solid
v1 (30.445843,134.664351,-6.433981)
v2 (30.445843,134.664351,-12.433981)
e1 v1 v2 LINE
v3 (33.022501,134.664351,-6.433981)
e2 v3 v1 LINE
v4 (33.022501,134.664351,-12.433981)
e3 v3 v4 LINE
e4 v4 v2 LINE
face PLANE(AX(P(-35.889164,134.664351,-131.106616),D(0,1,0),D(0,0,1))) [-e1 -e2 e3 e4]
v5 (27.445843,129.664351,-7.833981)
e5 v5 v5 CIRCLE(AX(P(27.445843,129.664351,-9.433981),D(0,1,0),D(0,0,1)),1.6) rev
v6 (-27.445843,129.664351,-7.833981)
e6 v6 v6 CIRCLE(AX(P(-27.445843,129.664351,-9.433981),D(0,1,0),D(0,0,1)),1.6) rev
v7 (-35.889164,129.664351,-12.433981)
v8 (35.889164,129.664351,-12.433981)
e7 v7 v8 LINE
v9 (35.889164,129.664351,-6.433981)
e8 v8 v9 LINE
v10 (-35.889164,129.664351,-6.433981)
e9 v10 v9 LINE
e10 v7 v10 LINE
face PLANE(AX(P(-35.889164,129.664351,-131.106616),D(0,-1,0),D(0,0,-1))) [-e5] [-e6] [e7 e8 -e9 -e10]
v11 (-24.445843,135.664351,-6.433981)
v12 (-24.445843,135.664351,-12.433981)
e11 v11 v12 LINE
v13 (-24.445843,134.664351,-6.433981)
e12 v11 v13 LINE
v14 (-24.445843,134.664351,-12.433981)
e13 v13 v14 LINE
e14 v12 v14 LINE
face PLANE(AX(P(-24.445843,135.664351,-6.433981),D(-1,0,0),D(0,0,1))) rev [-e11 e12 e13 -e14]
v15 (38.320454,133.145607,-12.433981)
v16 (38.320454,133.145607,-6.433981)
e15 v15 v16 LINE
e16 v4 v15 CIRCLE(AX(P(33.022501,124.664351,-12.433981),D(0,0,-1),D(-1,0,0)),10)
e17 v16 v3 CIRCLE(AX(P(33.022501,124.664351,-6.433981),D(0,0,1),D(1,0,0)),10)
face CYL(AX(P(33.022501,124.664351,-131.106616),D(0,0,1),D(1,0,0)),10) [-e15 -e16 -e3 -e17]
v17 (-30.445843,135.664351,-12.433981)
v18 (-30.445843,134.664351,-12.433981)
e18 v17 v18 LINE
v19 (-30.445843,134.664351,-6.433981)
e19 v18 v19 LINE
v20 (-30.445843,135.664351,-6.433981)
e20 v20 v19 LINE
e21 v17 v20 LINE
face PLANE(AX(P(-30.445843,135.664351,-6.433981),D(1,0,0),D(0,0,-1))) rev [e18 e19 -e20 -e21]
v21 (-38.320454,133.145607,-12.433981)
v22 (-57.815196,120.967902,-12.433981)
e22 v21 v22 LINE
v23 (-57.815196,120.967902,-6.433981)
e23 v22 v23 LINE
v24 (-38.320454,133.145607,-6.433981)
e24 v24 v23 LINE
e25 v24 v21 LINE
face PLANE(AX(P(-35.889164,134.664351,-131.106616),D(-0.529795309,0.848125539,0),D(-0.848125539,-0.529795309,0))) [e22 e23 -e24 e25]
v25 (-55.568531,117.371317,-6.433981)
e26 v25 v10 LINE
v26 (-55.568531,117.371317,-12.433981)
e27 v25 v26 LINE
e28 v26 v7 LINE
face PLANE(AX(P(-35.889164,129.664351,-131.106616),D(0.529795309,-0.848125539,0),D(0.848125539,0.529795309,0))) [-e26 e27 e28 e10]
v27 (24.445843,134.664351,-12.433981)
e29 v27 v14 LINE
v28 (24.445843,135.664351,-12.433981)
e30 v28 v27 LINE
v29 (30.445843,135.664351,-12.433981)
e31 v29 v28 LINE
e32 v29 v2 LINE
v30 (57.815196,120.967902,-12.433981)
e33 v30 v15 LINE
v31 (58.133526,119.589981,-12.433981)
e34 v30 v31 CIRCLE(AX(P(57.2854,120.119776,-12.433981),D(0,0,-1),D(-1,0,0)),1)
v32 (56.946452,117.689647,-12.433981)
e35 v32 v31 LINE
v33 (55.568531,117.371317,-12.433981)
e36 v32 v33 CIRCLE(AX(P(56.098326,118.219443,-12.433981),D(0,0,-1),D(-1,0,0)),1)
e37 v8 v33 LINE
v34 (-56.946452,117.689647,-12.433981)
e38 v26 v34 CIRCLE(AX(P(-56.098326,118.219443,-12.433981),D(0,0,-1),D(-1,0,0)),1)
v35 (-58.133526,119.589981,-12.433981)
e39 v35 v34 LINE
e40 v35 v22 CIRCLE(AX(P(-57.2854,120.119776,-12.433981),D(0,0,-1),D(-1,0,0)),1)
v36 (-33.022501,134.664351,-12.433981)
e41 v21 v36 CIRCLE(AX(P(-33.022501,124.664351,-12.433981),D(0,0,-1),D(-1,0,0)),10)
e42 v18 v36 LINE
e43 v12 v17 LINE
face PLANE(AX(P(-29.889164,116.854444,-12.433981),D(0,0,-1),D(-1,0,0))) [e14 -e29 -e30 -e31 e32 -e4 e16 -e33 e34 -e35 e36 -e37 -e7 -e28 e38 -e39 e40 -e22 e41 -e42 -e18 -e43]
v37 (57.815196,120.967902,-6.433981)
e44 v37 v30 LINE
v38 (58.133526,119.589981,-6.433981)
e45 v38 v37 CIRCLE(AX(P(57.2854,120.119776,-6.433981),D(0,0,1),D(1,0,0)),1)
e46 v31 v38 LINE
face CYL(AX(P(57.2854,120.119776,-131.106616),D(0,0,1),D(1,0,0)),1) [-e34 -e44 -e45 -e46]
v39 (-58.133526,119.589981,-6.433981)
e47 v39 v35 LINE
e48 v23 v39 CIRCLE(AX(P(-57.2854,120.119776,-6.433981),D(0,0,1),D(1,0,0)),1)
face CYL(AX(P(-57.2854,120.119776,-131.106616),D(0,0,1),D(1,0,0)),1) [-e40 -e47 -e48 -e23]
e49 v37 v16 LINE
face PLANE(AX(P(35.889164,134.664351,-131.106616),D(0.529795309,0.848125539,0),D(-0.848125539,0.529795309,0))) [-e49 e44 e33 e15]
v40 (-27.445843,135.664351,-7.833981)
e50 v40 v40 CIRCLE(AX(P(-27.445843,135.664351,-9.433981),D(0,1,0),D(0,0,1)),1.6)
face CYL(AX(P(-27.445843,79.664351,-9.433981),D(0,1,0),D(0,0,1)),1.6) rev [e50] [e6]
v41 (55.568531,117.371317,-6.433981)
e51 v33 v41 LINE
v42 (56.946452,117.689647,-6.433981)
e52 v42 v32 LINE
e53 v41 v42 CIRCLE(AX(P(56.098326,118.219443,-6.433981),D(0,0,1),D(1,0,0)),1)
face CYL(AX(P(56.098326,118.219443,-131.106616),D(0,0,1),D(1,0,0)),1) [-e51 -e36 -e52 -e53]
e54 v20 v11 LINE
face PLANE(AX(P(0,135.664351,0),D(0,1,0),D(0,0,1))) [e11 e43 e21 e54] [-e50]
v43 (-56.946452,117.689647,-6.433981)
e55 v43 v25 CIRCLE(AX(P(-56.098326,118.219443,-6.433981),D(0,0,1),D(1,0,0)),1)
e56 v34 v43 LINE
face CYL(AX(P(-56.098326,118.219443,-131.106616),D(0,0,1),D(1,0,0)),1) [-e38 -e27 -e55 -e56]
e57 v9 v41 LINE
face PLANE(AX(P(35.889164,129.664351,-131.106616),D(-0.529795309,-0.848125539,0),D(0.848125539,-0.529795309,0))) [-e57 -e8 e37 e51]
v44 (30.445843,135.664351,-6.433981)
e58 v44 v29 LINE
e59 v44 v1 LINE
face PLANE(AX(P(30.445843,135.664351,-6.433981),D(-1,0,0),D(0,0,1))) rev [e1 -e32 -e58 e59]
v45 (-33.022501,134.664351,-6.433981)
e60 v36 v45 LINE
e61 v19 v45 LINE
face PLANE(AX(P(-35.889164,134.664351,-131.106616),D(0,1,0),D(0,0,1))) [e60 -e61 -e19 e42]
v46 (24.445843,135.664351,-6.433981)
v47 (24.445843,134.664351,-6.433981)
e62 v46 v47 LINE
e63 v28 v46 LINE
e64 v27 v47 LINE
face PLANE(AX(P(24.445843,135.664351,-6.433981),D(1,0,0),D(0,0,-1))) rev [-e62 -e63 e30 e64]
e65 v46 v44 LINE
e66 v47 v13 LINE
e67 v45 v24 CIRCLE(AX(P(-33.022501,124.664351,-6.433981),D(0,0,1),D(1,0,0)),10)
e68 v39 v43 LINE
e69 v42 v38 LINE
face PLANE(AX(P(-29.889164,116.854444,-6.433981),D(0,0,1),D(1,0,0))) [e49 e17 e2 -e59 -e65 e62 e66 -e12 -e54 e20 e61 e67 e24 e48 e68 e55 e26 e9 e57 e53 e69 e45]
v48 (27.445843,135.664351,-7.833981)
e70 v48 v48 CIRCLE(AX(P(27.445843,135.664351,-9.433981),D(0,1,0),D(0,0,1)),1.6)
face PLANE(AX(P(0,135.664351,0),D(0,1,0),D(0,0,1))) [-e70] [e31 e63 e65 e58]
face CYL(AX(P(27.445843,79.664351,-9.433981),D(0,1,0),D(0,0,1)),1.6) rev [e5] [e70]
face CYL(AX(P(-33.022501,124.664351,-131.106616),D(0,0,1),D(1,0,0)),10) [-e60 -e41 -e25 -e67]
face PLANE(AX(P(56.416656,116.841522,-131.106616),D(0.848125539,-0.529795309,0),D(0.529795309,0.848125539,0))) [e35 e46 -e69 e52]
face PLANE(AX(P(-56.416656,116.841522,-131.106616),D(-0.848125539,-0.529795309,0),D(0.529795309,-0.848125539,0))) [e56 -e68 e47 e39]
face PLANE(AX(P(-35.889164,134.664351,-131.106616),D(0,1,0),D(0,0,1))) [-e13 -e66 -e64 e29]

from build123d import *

# Parameters (mm, degrees)
EXTRUDE_1_DEPTH      = 3
SKETCH_7_R           = 2.25
CUT_EXTRUDE_2_DEPTH  = 4.0000001
SKETCH_8_R           = 8
CUT_EXTRUDE_3_DEPTH  = 4.0000001
CUT_EXTRUDE_4_DEPTH  = 3
CUT_EXTRUDE_5_DEPTH  = 3
CUT_EXTRUDE_8_DEPTH  = 3
SKETCH_12_R          = 1.7
CUT_EXTRUDE_9_DEPTH  = 3
SKETCH_13_R          = 1.7
CUT_EXTRUDE_11_DEPTH = 3
CUT_EXTRUDE_12_DEPTH = 4.0000001
FILLET_1_R           = 2
FILLET_2_R           = 2
CUT_EXTRUDE_13_DEPTH = 4.0000001
CUT_EXTRUDE_14_DEPTH = 4.0000001
CUT_EXTRUDE_15_DEPTH = 4.0000001
CUT_EXTRUDE_16_DEPTH = 4.0000001
SKETCH_19_W          = 174.604309186
SKETCH_19_H          = 153.794857067
CUT_EXTRUDE_17_DEPTH = 10
SKETCH_20_R          = 1.7
SKETCH_20_R_2        = 2.929115441
EXTRUDE_2_DEPTH      = 5
SKETCH_21_W          = 71.778327268
SKETCH_21_H          = 4.999657954
EXTRUDE_3_DEPTH      = 5
EXTRUDE_4_DEPTH      = 5
FILLET_3_R           = 10
SKETCH_23_W          = 71.778327268
SKETCH_23_H          = 4.999657954
EXTRUDE_5_DEPTH      = 5
FILLET_4_R           = 1
SKETCH_24_W          = 6
SKETCH_24_H          = 4.999657954
EXTRUDE_7_DEPTH      = 55
EXTRUDE_8_DEPTH      = 4.999658
FILLET_5_R           = 8
FILLET_6_R           = 12
SKETCH_27_W          = 5
SKETCH_27_H          = 6
EXTRUDE_9_DEPTH      = 4.999658
FILLET_7_R           = 1
FILLET_8_R           = 1
FILLET_9_R           = 1
SKETCH_28_R          = 1.6
CUT_EXTRUDE_19_DEPTH = 50
EXTRUDE_10_DEPTH     = 6
SKETCH_33_R          = 1.6
CUT_EXTRUDE_21_DEPTH = 10.999657954
SKETCH_34_W          = 162.843072653
SKETCH_34_H          = 93.113374014
CUT_EXTRUDE_22_DEPTH = 10
SKETCH_35_W          = 6
SKETCH_35_H          = 6
SKETCH_35_R          = 1.6
EXTRUDE_11_DEPTH     = 1
CUT_EXTRUDE_23_DEPTH = 90
SKETCH_37_W          = 26
SKETCH_37_H          = 5
CUT_EXTRUDE_24_DEPTH = 90
FILLET_10_R          = 10
FILLET_11_R          = 1


with BuildPart() as part:
    # 草图1 → 凸台-拉伸1 (new body)
    with BuildSketch(Plane.XY):
        with BuildLine():
            Line((60, 106.603296002), (35.889163634, 121.664519159))
            Line((35.889163634, 121.664519159), (-35.889163634, 121.664519159))
            Line((-35.889163634, 121.664519159), (-60, 106.603296002))
            Line((-60, 106.603296002), (-60, 94.801892265))
            Line((-60, 94.801892265), (-45, 94.801892265))
            ThreePointArc((-45, 94.801892265), (-43.762563133, 94.289329132), (-43.25, 93.051892265))
            Line((-43.25, 93.051892265), (-37.75, 93.051892265))
            ThreePointArc((-37.75, 93.051892265), (-37.237436867, 94.289329132), (-36, 94.801892265))
            Line((-36, 94.801892265), (-21, 94.801892265))
            ThreePointArc((-21, 94.801892265), (-19.762563133, 94.289329132), (-19.25, 93.051892265))
            Line((-19.25, 93.051892265), (19.25, 93.051892265))
            ThreePointArc((19.25, 93.051892265), (19.762563133, 94.289329132), (21, 94.801892265))
            Line((21, 94.801892265), (36, 94.801892265))
            ThreePointArc((36, 94.801892265), (37.237436867, 94.289329132), (37.75, 93.051892265))
            Line((37.75, 93.051892265), (43.25, 93.051892265))
            ThreePointArc((43.25, 93.051892265), (43.762563133, 94.289329132), (45, 94.801892265))
            Line((45, 94.801892265), (60, 94.801892265))
            Line((60, 94.801892265), (60, 106.603296002))
        make_face()
        with BuildLine():
            Line((66.901694095, 102.292041372), (60, 106.603296002))
            Line((60, 106.603296002), (60, 94.801892265))
            ThreePointArc((60, 94.801892265), (61.237436867, 94.289329132), (61.75, 93.051892265))
            Line((61.75, 93.051892265), (66.901694095, 93.051892265))
            Line((66.901694095, 93.051892265), (66.901694095, 102.292041372))
        make_face()
        with BuildLine():
            Line((-60, 94.801892265), (-60, 106.603296002))
            Line((-60, 106.603296002), (-66.901694095, 102.292041372))
            Line((-66.901694095, 102.292041372), (-66.901694095, 93.051892265))
            Line((-66.901694095, 93.051892265), (-61.75, 93.051892265))
            ThreePointArc((-61.75, 93.051892265), (-61.237436867, 94.289329132), (-60, 94.801892265))
        make_face()
        with BuildLine():
            Line((66.901694095, 63.051892265), (66.901694095, 93.051892265))
            Line((66.901694095, 93.051892265), (61.75, 93.051892265))
            ThreePointArc((61.75, 93.051892265), (61.237436867, 91.814455398), (60, 91.301892265))
            Line((60, 91.301892265), (60, 64.801892265))
            ThreePointArc((60, 64.801892265), (61.237436867, 64.289329132), (61.75, 63.051892265))
            Line((61.75, 63.051892265), (66.901694095, 63.051892265))
        make_face()
        with BuildLine():
            Line((-61.75, 93.051892265), (-66.901694095, 93.051892265))
            Line((-66.901694095, 93.051892265), (-66.901694095, 63.051892265))
            Line((-66.901694095, 63.051892265), (-61.75, 63.051892265))
            ThreePointArc((-61.75, 63.051892265), (-61.237436867, 64.289329132), (-60, 64.801892265))
            Line((-60, 64.801892265), (-60, 91.301892265))
            ThreePointArc((-60, 91.301892265), (-61.237436867, 91.814455398), (-61.75, 93.051892265))
        make_face()
        with BuildLine():
            Line((66.901694095, 52.870133869), (66.901694095, 63.051892265))
            Line((66.901694095, 63.051892265), (61.75, 63.051892265))
            ThreePointArc((61.75, 63.051892265), (61.237436867, 61.814455398), (60, 61.301892265))
            Line((60, 61.301892265), (60, 31.261343001))
            Line((60, 31.261343001), (75, 31.261343001))
            Line((75, 31.261343001), (75, 40.933889795))
            ThreePointArc((75, 40.933889795), (69.117351927, 45.658052319), (66.901694095, 52.870133869))
        make_face()
        with BuildLine():
            Line((60, 64.801892265), (60, 91.301892265))
            Line((60, 91.301892265), (45, 91.301892265))
            ThreePointArc((45, 91.301892265), (43.762563133, 91.814455398), (43.25, 93.051892265))
            Line((43.25, 93.051892265), (37.75, 93.051892265))
            ThreePointArc((37.75, 93.051892265), (37.237436867, 91.814455398), (36, 91.301892265))
            Line((36, 91.301892265), (21, 91.301892265))
            ThreePointArc((21, 91.301892265), (19.762563133, 91.814455398), (19.25, 93.051892265))
            Line((19.25, 93.051892265), (-19.25, 93.051892265))
            ThreePointArc((-19.25, 93.051892265), (-19.762563133, 91.814455398), (-21, 91.301892265))
            Line((-21, 91.301892265), (-36, 91.301892265))
            ThreePointArc((-36, 91.301892265), (-37.237436867, 91.814455398), (-37.75, 93.051892265))
            Line((-37.75, 93.051892265), (-43.25, 93.051892265))
            ThreePointArc((-43.25, 93.051892265), (-43.762563133, 91.814455398), (-45, 91.301892265))
            Line((-45, 91.301892265), (-60, 91.301892265))
            Line((-60, 91.301892265), (-60, 64.801892265))
            Line((-60, 64.801892265), (-45, 64.801892265))
            ThreePointArc((-45, 64.801892265), (-43.762563133, 64.289329132), (-43.25, 63.051892265))
            Line((-43.25, 63.051892265), (-37.75, 63.051892265))
            ThreePointArc((-37.75, 63.051892265), (-37.237436867, 64.289329132), (-36, 64.801892265))
            Line((-36, 64.801892265), (-21, 64.801892265))
            ThreePointArc((-21, 64.801892265), (-19.762563133, 64.289329132), (-19.25, 63.051892265))
            Line((-19.25, 63.051892265), (19.25, 63.051892265))
            ThreePointArc((19.25, 63.051892265), (19.762563133, 64.289329132), (21, 64.801892265))
            Line((21, 64.801892265), (36, 64.801892265))
            ThreePointArc((36, 64.801892265), (37.237436867, 64.289329132), (37.75, 63.051892265))
            Line((37.75, 63.051892265), (43.25, 63.051892265))
            ThreePointArc((43.25, 63.051892265), (43.762563133, 64.289329132), (45, 64.801892265))
            Line((45, 64.801892265), (60, 64.801892265))
        make_face()
        with BuildLine():
            Line((-61.75, 63.051892265), (-66.901694095, 63.051892265))
            Line((-66.901694095, 63.051892265), (-66.901694095, 52.870133869))
            ThreePointArc((-66.901694095, 52.870133869), (-69.117351927, 45.658052319), (-75, 40.933889795))
            Line((-75, 40.933889795), (-75, 31.261343001))
            Line((-75, 31.261343001), (-60, 31.261343001))
            Line((-60, 31.261343001), (-60, 61.301892265))
            ThreePointArc((-60, 61.301892265), (-61.237436867, 61.814455398), (-61.75, 63.051892265))
        make_face()
        with BuildLine():
            Line((60, 31.261343001), (60, 61.301892265))
            Line((60, 61.301892265), (45, 61.301892265))
            ThreePointArc((45, 61.301892265), (43.762563133, 61.814455398), (43.25, 63.051892265))
            Line((43.25, 63.051892265), (37.75, 63.051892265))
            ThreePointArc((37.75, 63.051892265), (37.237436867, 61.814455398), (36, 61.301892265))
            Line((36, 61.301892265), (21, 61.301892265))
            ThreePointArc((21, 61.301892265), (19.762563133, 61.814455398), (19.25, 63.051892265))
            Line((19.25, 63.051892265), (-19.25, 63.051892265))
            ThreePointArc((-19.25, 63.051892265), (-19.762563133, 61.814455398), (-21, 61.301892265))
            Line((-21, 61.301892265), (-36, 61.301892265))
            ThreePointArc((-36, 61.301892265), (-37.237436867, 61.814455398), (-37.75, 63.051892265))
            Line((-37.75, 63.051892265), (-43.25, 63.051892265))
            ThreePointArc((-43.25, 63.051892265), (-43.762563133, 61.814455398), (-45, 61.301892265))
            Line((-45, 61.301892265), (-60, 61.301892265))
            Line((-60, 61.301892265), (-60, 31.261343001))
            Line((-60, 31.261343001), (60, 31.261343001))
        make_face()
        with BuildLine():
            Line((60, -58.312864289), (60, 23.940028391))
            Line((60, 23.940028391), (-60, 23.940028391))
            Line((-60, 23.940028391), (-60, -58.312864289))
            Line((-60, -58.312864289), (-45, -58.312864289))
            ThreePointArc((-45, -58.312864289), (-43.25, -60.062864289), (-45, -61.812864289))
            Line((-45, -61.812864289), (-60, -61.812864289))
            Line((-60, -61.812864289), (-60, -88.312864289))
            Line((-60, -88.312864289), (-45, -88.312864289))
            ThreePointArc((-45, -88.312864289), (-43.25, -90.062864289), (-45, -91.812864289))
            Line((-45, -91.812864289), (-60, -91.812864289))
            Line((-60, -91.812864289), (-60, -111.849967256))
            Line((-60, -111.849967256), (-38.845469114, -105.590576733))
            ThreePointArc((-38.845469114, -105.590576733), (-36.037784492, -104.975210108), (-33.17088573, -104.768665882))
            Line((-33.17088573, -104.768665882), (33.17088573, -104.768665882))
            ThreePointArc((33.17088573, -104.768665882), (36.037784492, -104.975210108), (38.845469114, -105.590576733))
            Line((38.845469114, -105.590576733), (60, -111.849967256))
            Line((60, -111.849967256), (60, -91.812864289))
            Line((60, -91.812864289), (45, -91.812864289))
            ThreePointArc((45, -91.812864289), (43.762563133, -91.300301156), (43.25, -90.062864289))
            ThreePointArc((43.25, -90.062864289), (43.762563133, -88.825427422), (45, -88.312864289))
            Line((45, -88.312864289), (60, -88.312864289))
            Line((60, -88.312864289), (60, -61.812864289))
            Line((60, -61.812864289), (45, -61.812864289))
            ThreePointArc((45, -61.812864289), (43.762563133, -61.300301156), (43.25, -60.062864289))
            ThreePointArc((43.25, -60.062864289), (43.762563133, -58.825427422), (45, -58.312864289))
            Line((45, -58.312864289), (60, -58.312864289))
        make_face()
        with BuildLine():
            ThreePointArc((-21, -88.312864289), (-19.762563133, -88.825427422), (-19.25, -90.062864289))
            ThreePointArc((-19.25, -90.062864289), (-19.762563133, -91.300301156), (-21, -91.812864289))
            Line((-21, -91.812864289), (-36, -91.812864289))
            ThreePointArc((-36, -91.812864289), (-37.75, -90.062864289), (-36, -88.312864289))
            Line((-36, -88.312864289), (-21, -88.312864289))
        make_face(mode=Mode.SUBTRACT)
        with BuildLine():
            ThreePointArc((-21, -58.312864289), (-19.762563133, -58.825427422), (-19.25, -60.062864289))
            ThreePointArc((-19.25, -60.062864289), (-19.762563133, -61.300301156), (-21, -61.812864289))
            Line((-21, -61.812864289), (-36, -61.812864289))
            ThreePointArc((-36, -61.812864289), (-37.75, -60.062864289), (-36, -58.312864289))
            Line((-36, -58.312864289), (-21, -58.312864289))
        make_face(mode=Mode.SUBTRACT)
        with BuildLine():
            ThreePointArc((36, -88.312864289), (37.237436867, -88.825427422), (37.75, -90.062864289))
            ThreePointArc((37.75, -90.062864289), (37.237436867, -91.300301156), (36, -91.812864289))
            Line((36, -91.812864289), (21, -91.812864289))
            ThreePointArc((21, -91.812864289), (19.762563133, -91.300301156), (19.25, -90.062864289))
            ThreePointArc((19.25, -90.062864289), (19.762563133, -88.825427422), (21, -88.312864289))
            Line((21, -88.312864289), (36, -88.312864289))
        make_face(mode=Mode.SUBTRACT)
        with BuildLine():
            ThreePointArc((36, -58.312864289), (37.237436867, -58.825427422), (37.75, -60.062864289))
            ThreePointArc((37.75, -60.062864289), (37.237436867, -61.300301156), (36, -61.812864289))
            Line((36, -61.812864289), (21, -61.812864289))
            ThreePointArc((21, -61.812864289), (19.762563133, -61.300301156), (19.25, -60.062864289))
            ThreePointArc((19.25, -60.062864289), (19.762563133, -58.825427422), (21, -58.312864289))
            Line((21, -58.312864289), (36, -58.312864289))
        make_face(mode=Mode.SUBTRACT)
        with BuildLine():
            Line((75, 23.940028391), (60, 23.940028391))
            Line((60, 23.940028391), (60, -58.312864289))
            ThreePointArc((60, -58.312864289), (61.237436867, -58.825427422), (61.75, -60.062864289))
            Line((61.75, -60.062864289), (67.402721334, -60.062864289))
            add(Edge.make_bspline(
                [(75, 10.562559835), (72.695878257, 1.907314233), (70.339582535, -13.372796253), (67.818206704, -36.939032951), (67.208860388, -51.77269444), (67.402721334, -60.062864289)],
                knots=[0, 0, 0, 0, 0.235246678, 0.40629419, 0.624108181, 0.624108181, 0.624108181, 0.624108181], degree=3))
            Line((75, 10.562559835), (75, 23.940028391))
        make_face()
        with BuildLine():
            Line((-60, -58.312864289), (-60, 23.940028391))
            Line((-60, 23.940028391), (-75, 23.940028391))
            Line((-75, 23.940028391), (-75, 10.562559835))
            add(Edge.make_bspline(
                [(-75, 10.562559835), (-72.695878257, 1.907314233), (-70.339582535, -13.372796253), (-67.818206704, -36.939032951), (-67.208860388, -51.77269444), (-67.402721334, -60.062864289)],
                knots=[0, 0, 0, 0, 0.235246678, 0.40629419, 0.624108181, 0.624108181, 0.624108181, 0.624108181], degree=3))
            add(Edge.make_bspline(
                [(-67.402721334, -60.062864289), (-67.560325872, -66.802583754), (-68.323504015, -76.843670093), (-70.154131955, -86.778530076), (-70.533712858, -90.062864289)],
                knots=[0.624108181, 0.624108181, 0.624108181, 0.624108181, 0.801186001, 0.888408652, 0.888408652, 0.888408652, 0.888408652], degree=3))
            add(Edge.make_bspline(
                [(-70.533712858, -90.062864289), (-71.019342956, -94.264792095), (-71.137422935, -98.476048206), (-70.1742624, -102.732794059)],
                knots=[0.888408652, 0.888408652, 0.888408652, 0.888408652, 1, 1, 1, 1], degree=3))
            Line((-70.1742624, -102.732794059), (-66.460817635, -113.761651372))
            Line((-66.460817635, -113.761651372), (-60, -111.849967256))
            Line((-60, -111.849967256), (-60, -91.812864289))
            ThreePointArc((-60, -91.812864289), (-61.75, -90.062864289), (-60, -88.312864289))
            Line((-60, -88.312864289), (-60, -61.812864289))
            ThreePointArc((-60, -61.812864289), (-61.75, -60.062864289), (-60, -58.312864289))
        make_face()
        with BuildLine():
            Line((67.402721334, -60.062864289), (61.75, -60.062864289))
            ThreePointArc((61.75, -60.062864289), (61.237436867, -61.300301156), (60, -61.812864289))
            Line((60, -61.812864289), (60, -88.312864289))
            ThreePointArc((60, -88.312864289), (61.237436867, -88.825427422), (61.75, -90.062864289))
            Line((61.75, -90.062864289), (70.533712858, -90.062864289))
            add(Edge.make_bspline(
                [(67.402721334, -60.062864289), (67.560325872, -66.802583754), (68.323504015, -76.843670093), (70.154131955, -86.778530076), (70.533712858, -90.062864289)],
                knots=[0.624108181, 0.624108181, 0.624108181, 0.624108181, 0.801186001, 0.888408652, 0.888408652, 0.888408652, 0.888408652], degree=3))
        make_face()
        with BuildLine():
            add(Edge.make_bspline(
                [(70.533712858, -90.062864289), (71.019342956, -94.264792095), (71.137422935, -98.476048206), (70.1742624, -102.732794059)],
                knots=[0.888408652, 0.888408652, 0.888408652, 0.888408652, 1, 1, 1, 1], degree=3))
            Line((70.533712858, -90.062864289), (61.75, -90.062864289))
            ThreePointArc((61.75, -90.062864289), (61.237436867, -91.300301156), (60, -91.812864289))
            Line((60, -91.812864289), (60, -111.849967256))
            Line((60, -111.849967256), (66.460817635, -113.761651372))
            Line((66.460817635, -113.761651372), (70.1742624, -102.732794059))
        make_face()
    extrude(amount=EXTRUDE_1_DEPTH)

    # 草图7 → 切除-拉伸2 (cut, through all)
    with BuildSketch(Plane(origin=(0, 0, 0), x_dir=(-1, 0, 0), z_dir=(0, 0, -1))):
        with Locations((-21, 41.261343001)):
            Circle(SKETCH_7_R)
        with Locations((21, 41.261343001)):
            Circle(SKETCH_7_R)
        with Locations((-21, 13.940028391)):
            Circle(SKETCH_7_R)
        with Locations((21, 13.940028391)):
            Circle(SKETCH_7_R)
    extrude(amount=-CUT_EXTRUDE_2_DEPTH, mode=Mode.SUBTRACT)

    # 草图8 → 切除-拉伸3 (cut, through all)
    with BuildSketch(Plane.XY.offset(3)):
        with BuildLine():
            Line((-12.621438714, -0.378557945), (-33.409010345, 20.409013685))
            ThreePointArc((-33.409010345, 20.409013685), (-36.590999434, 20.409013643), (-36.590999309, 17.227024553))
            Line((-36.590999309, 17.227024553), (-15.803426586, -3.560545984))
            ThreePointArc((-15.803426586, -3.560545984), (-12.621438673, -3.560545859), (-12.621438714, -0.378557945))
        make_face()
        with BuildLine():
            Line((33.410462056, 20.410458798), (12.572988319, -0.427010824))
            ThreePointArc((12.572988319, -0.427010824), (12.644570441, -3.584764993), (15.803045702, -3.56090242))
            Line((15.803045702, -3.56090242), (34.999999982, 15.636052774))
            Line((34.999999982, 15.636052774), (36.588086952, 17.224139819))
            ThreePointArc((36.588086952, 17.224139819), (36.592433993, 20.406111757), (33.410462056, 20.410458798))
        make_face()
        with BuildLine():
            Line((-15.803784812, -28.80377835), (-36.591002186, -49.590991619))
            ThreePointArc((-36.591002186, -49.590991619), (-36.591002403, -52.772972232), (-33.40902179, -52.772972254))
            Line((-33.40902179, -52.772972254), (-12.573723916, -31.937673388))
            ThreePointArc((-12.573723916, -31.937673388), (-12.64530628, -28.779915954), (-15.803784812, -28.80377835))
        make_face()
        with BuildLine():
            Line((36.590992666, -49.590989326), (15.803414627, -28.803411286))
            ThreePointArc((15.803414627, -28.803411286), (12.654338964, -28.769774302), (12.55344336, -31.917412949))
            Line((12.55344336, -31.917412949), (33.409007381, -52.772974779))
            ThreePointArc((33.409007381, -52.772974779), (36.590992708, -52.772974653), (36.590992666, -49.590989326))
        make_face()
        with Locations((-0.000368782, -16.182341354)):
            Circle(SKETCH_8_R)
    extrude(amount=-CUT_EXTRUDE_3_DEPTH, mode=Mode.SUBTRACT)

    # 草图9 → 切除-拉伸4 (cut)
    with BuildSketch(Plane.XY.offset(3)):
        with BuildLine():
            Line((55, -100.49704609), (20, -100.49704609))
            ThreePointArc((20, -100.49704609), (18.25, -98.74704609), (20, -96.99704609))
            Line((20, -96.99704609), (55, -96.99704609))
            ThreePointArc((55, -96.99704609), (56.75, -98.74704609), (55, -100.49704609))
        make_face()
        with BuildLine():
            Line((-55, -96.99704609), (-20, -96.99704609))
            ThreePointArc((-20, -96.99704609), (-18.25, -98.74704609), (-20, -100.49704609))
            Line((-20, -100.49704609), (-55, -100.49704609))
            ThreePointArc((-55, -100.49704609), (-56.75, -98.74704609), (-55, -96.99704609))
        make_face()
    extrude(amount=-CUT_EXTRUDE_4_DEPTH, mode=Mode.SUBTRACT)

    # 草图10 → 切除-拉伸5 (cut)
    with BuildSketch(Plane.XY.offset(3)):
        with BuildLine():
            Line((12.5, -80.062864289), (-12.5, -80.062864289))
            ThreePointArc((-12.5, -80.062864289), (-17.5, -75.062864289), (-12.5, -70.062864289))
            Line((-12.5, -70.062864289), (12.5, -70.062864289))
            ThreePointArc((12.5, -70.062864289), (17.5, -75.062864289), (12.5, -80.062864289))
        make_face()
    extrude(amount=-CUT_EXTRUDE_5_DEPTH, mode=Mode.SUBTRACT)

    # 草图11 → 切除-拉伸8 (cut)
    with BuildSketch(Plane.XY.offset(3)):
        with BuildLine():
            Line((15, 73.051892265), (-15, 73.051892265))
            ThreePointArc((-15, 73.051892265), (-20, 78.051892265), (-15, 83.051892265))
            Line((-15, 83.051892265), (15, 83.051892265))
            ThreePointArc((15, 83.051892265), (20, 78.051892265), (15, 73.051892265))
        make_face()
    extrude(amount=-CUT_EXTRUDE_8_DEPTH, mode=Mode.SUBTRACT)

    # 草图12 → 切除-拉伸9 (cut)
    with BuildSketch(Plane.XY.offset(3)):
        with Locations((0, 114.371786435)):
            Circle(SKETCH_12_R)
        with Locations((0, 98.371786435)):
            Circle(SKETCH_12_R)
        with Locations((8, 106.371786435)):
            Circle(SKETCH_12_R)
        with Locations((-8, 106.371786435)):
            Circle(SKETCH_12_R)
    extrude(amount=-CUT_EXTRUDE_9_DEPTH, mode=Mode.SUBTRACT)

    # 草图13 → 切除-拉伸11 (cut)
    with BuildSketch(Plane.XY.offset(3)):
        with Locations((0, -84.415765086)):
            Circle(SKETCH_13_R)
        with Locations((8, -92.415765086)):
            Circle(SKETCH_13_R)
        with Locations((0, -100.415765086)):
            Circle(SKETCH_13_R)
        with Locations((-8, -92.415765086)):
            Circle(SKETCH_13_R)
    extrude(amount=-CUT_EXTRUDE_11_DEPTH, mode=Mode.SUBTRACT)

    # 草图14 → 切除-拉伸12 (cut, through all)
    with BuildSketch(Plane.XY.offset(3)):
        with BuildLine():
            Line((-55.475501567, 8.919687236), (-55.475501567, -46.080312764))
            ThreePointArc((-55.475501567, -46.080312764), (-57.225501567, -47.830312764), (-58.975501567, -46.080312764))
            Line((-58.975501567, -46.080312764), (-58.975501567, 8.919687236))
            ThreePointArc((-58.975501567, 8.919687236), (-57.225501567, 10.669687236), (-55.475501567, 8.919687236))
        make_face()
        with BuildLine():
            Line((58.975501567, 8.919687236), (58.975501567, -46.080312764))
            ThreePointArc((58.975501567, -46.080312764), (57.225501567, -47.830312764), (55.475501567, -46.080312764))
            Line((55.475501567, -46.080312764), (55.475501567, 8.919687236))
            ThreePointArc((55.475501567, 8.919687236), (57.225501567, 10.669687236), (58.975501567, 8.919687236))
        make_face()
    extrude(amount=-CUT_EXTRUDE_12_DEPTH, mode=Mode.SUBTRACT)

    # 圆角1
    fillet_1_edges = [part.edges().sort_by_distance(p)[0] for p in [
        (75, 31.261343001, 1.5),
        (-75, 31.261343001, 1.5),
    ]]
    fillet(fillet_1_edges, radius=FILLET_1_R)

    # 圆角2
    fillet_2_edges = [part.edges().sort_by_distance(p)[0] for p in [
        (-75, 23.940028391, 1.5),
        (75, 23.940028391, 1.5),
    ]]
    fillet(fillet_2_edges, radius=FILLET_2_R)

    # 草图15 → 切除-拉伸13 (cut, through all)
    with BuildSketch(Plane(origin=(0, 0, 0), x_dir=(-1, 0, 0), z_dir=(0, 0, -1))):
        with BuildLine():
            Line((-61.184216401, 102.403501276), (-34.774762862, 118.900592756))
            ThreePointArc((-34.774762862, 118.900592756), (-32.70788159, 118.423097411), (-33.185376934, 116.356216138))
            Line((-33.185376934, 116.356216138), (-59.594830473, 99.859124658))
            ThreePointArc((-59.594830473, 99.859124658), (-61.661711746, 100.336620003), (-61.184216401, 102.403501276))
        make_face()
        with BuildLine():
            Line((59.594830473, 99.859124658), (33.185376934, 116.356216138))
            ThreePointArc((33.185376934, 116.356216138), (32.70788159, 118.423097411), (34.774762862, 118.900592756))
            Line((34.774762862, 118.900592756), (61.184216401, 102.403501276))
            ThreePointArc((61.184216401, 102.403501276), (61.661711746, 100.336620003), (59.594830473, 99.859124658))
        make_face()
    extrude(amount=-CUT_EXTRUDE_13_DEPTH, mode=Mode.SUBTRACT)

    # 草图16 → 切除-拉伸14 (cut, through all)
    with BuildSketch(Plane(origin=(0, 0, 0), x_dir=(-1, 0, 0), z_dir=(0, 0, -1))):
        with BuildLine():
            Line((-61.516979467, 42.761343001), (-32.056291893, 42.761343001))
            ThreePointArc((-32.056291893, 42.761343001), (-30.556291893, 41.261343001), (-32.056291893, 39.761343001))
            Line((-32.056291893, 39.761343001), (-61.516979467, 39.761343001))
            ThreePointArc((-61.516979467, 39.761343001), (-63.016979467, 41.261343001), (-61.516979467, 42.761343001))
        make_face()
        with BuildLine():
            Line((61.516979467, 39.761343001), (32.056291893, 39.761343001))
            ThreePointArc((32.056291893, 39.761343001), (30.556291893, 41.261343001), (32.056291893, 42.761343001))
            Line((32.056291893, 42.761343001), (61.516979467, 42.761343001))
            ThreePointArc((61.516979467, 42.761343001), (63.016979467, 41.261343001), (61.516979467, 39.761343001))
        make_face()
    extrude(amount=-CUT_EXTRUDE_14_DEPTH, mode=Mode.SUBTRACT)

    # 草图17 → 切除-拉伸15 (cut, through all)
    with BuildSketch(Plane(origin=(0, 0, 0), x_dir=(-1, 0, 0), z_dir=(0, 0, -1))):
        Polygon((-28.645414283, -8.118433382), (-34.644957411, -20.11751964), (-34.644957411, -29.946558382), (-37.580904049, -29.946558382), (-37.580904049, -20.11751964), (-43.580447177, -8.118433382), (-40.64450054, -8.118433382), (-36.176755657, -17.43687271), (-36.049105803, -17.43687271), (-31.58136092, -8.118433382), align=None)
    extrude(amount=-CUT_EXTRUDE_15_DEPTH, mode=Mode.SUBTRACT)

    # 草图18 → 切除-拉伸16 (cut, through all)
    with BuildSketch(Plane(origin=(0, 0, 0), x_dir=(-1, 0, 0), z_dir=(0, 0, -1))):
        Polygon((46.06697123, -29.087529791), (43.131024593, -29.087529791), (43.131024593, -18.875541487), (35.854982926, -18.875541487), (35.854982926, -29.087529791), (32.919036289, -29.087529791), (32.919036289, -7.259404791), (35.854982926, -7.259404791), (35.854982926, -16.450194265), (43.131024593, -16.450194265), (43.131024593, -7.259404791), (46.06697123, -7.259404791), align=None)
    extrude(amount=-CUT_EXTRUDE_16_DEPTH, mode=Mode.SUBTRACT)

    # 草图19 → 切除-拉伸17 (cut)
    with BuildSketch(Plane(origin=(0, 0, 0), x_dir=(-1, 0, 0), z_dir=(0, 0, -1))):
        with Locations((0, -49.372787161)):
            Rectangle(SKETCH_19_W, SKETCH_19_H)
    extrude(amount=-CUT_EXTRUDE_17_DEPTH, mode=Mode.SUBTRACT)

    # 草图34 → 切除-拉伸22 (cut)
    with BuildSketch(Plane(origin=(0, 0, 0), x_dir=(-1, 0, 0), z_dir=(0, 0, -1))):
        with Locations((1.208964771, 75.898201893)):
            Rectangle(SKETCH_34_W, SKETCH_34_H)
    extrude(amount=-CUT_EXTRUDE_22_DEPTH, mode=Mode.SUBTRACT)


with BuildPart() as body_2:
    # 草图20 → 凸台-拉伸2 (new body)
    with BuildSketch(Plane.XY.offset(13)):
        with BuildLine():
            Line((-13, 106.371786435), (-13, 129.664519159))
            Line((-13, 129.664519159), (13, 129.664519159))
            Line((13, 129.664519159), (13, 106.371786435))
            ThreePointArc((13, 106.371786435), (0, 93.371786435), (-13, 106.371786435))
        make_face()
        with Locations((0, 98.371786435)):
            Circle(SKETCH_20_R, mode=Mode.SUBTRACT)
        with Locations((-8, 106.371786435)):
            Circle(SKETCH_20_R, mode=Mode.SUBTRACT)
        with Locations((8, 106.371786435)):
            Circle(SKETCH_20_R, mode=Mode.SUBTRACT)
        with Locations((0, 114.371786435)):
            Circle(SKETCH_20_R, mode=Mode.SUBTRACT)
        with Locations((0, 106.371786435)):
            Circle(SKETCH_20_R_2, mode=Mode.SUBTRACT)
    extrude(amount=EXTRUDE_2_DEPTH)

    # 草图21 → 凸台-拉伸3 (add)
    with BuildSketch(Plane.XY.offset(18)):
        with Locations((0, 127.164522428)):
            Rectangle(SKETCH_21_W, SKETCH_21_H)
    extrude(amount=-EXTRUDE_3_DEPTH)

    # 草图22 → 凸台-拉伸4 (add)
    with BuildSketch(Plane.XY.offset(18)):
        Polygon((-24.444581817, 124.664693451), (-13, 116.664693451), (-13, 124.664693451), align=None)
        Polygon((24.444581817, 124.664693451), (13, 116.664693451), (13, 124.664693451), align=None)
    extrude(amount=-EXTRUDE_4_DEPTH)

    # 圆角3
    fillet_3_edges = [body_2.edges().sort_by_distance(p)[0] for p in [
        (-24.444581817, 124.664693451, 15.5),
        (-13, 116.664693451, 15.5),
        (24.444581817, 124.664693451, 15.5),
        (13, 116.664693451, 15.5),
    ]]
    fillet(fillet_3_edges, radius=FILLET_3_R)

    # 草图23 → 凸台-拉伸5 (add)
    with BuildSketch(Plane(origin=(0, 0, 13), x_dir=(-1, 0, 0), z_dir=(0, 0, -1))):
        with Locations((0, 127.164522428)):
            Rectangle(SKETCH_23_W, SKETCH_23_H)
    extrude(amount=EXTRUDE_5_DEPTH)

    # 圆角4
    fillet_4_edges = [body_2.edges().sort_by_distance(p)[0] for p in [
        (0, 124.664693451, 13),
    ]]
    fillet(fillet_4_edges, radius=FILLET_4_R)

    # 草图24 → 凸台-拉伸7 (add)
    with BuildSketch(Plane(origin=(0, 0, 8), x_dir=(-1, 0, 0), z_dir=(0, 0, -1))):
        with Locations((-32.889163634, 127.164522428)):
            Rectangle(SKETCH_24_W, SKETCH_24_H)
        with Locations((32.889163634, 127.164522428)):
            Rectangle(SKETCH_24_W, SKETCH_24_H)
    extrude(amount=EXTRUDE_7_DEPTH)

    # 草图25 → 凸台-拉伸8 (add)
    with BuildSketch(Plane(origin=(0, 129.664351405, 0), x_dir=(1, 0, 0), z_dir=(0, 1, 0))):
        Polygon((-29.889163634, 2), (-13.889163634, -8), (-29.889163634, -8), align=None)
        Polygon((29.889163634, -8), (13.889163634, -8), (29.889163634, 2), align=None)
    extrude(amount=-EXTRUDE_8_DEPTH)

    # 圆角5
    fillet_5_edges = [body_2.edges().sort_by_distance(p)[0] for p in [
        (-13.889163634, 127.164522405, 8),
        (-29.889163634, 127.164522405, -2),
        (13.889163634, 127.164522405, 8),
        (29.889163634, 127.164522405, -2),
    ]]
    fillet(fillet_5_edges, radius=FILLET_5_R)

    # 圆角6
    fillet_6_edges = [body_2.edges().sort_by_distance(p)[0] for p in [
        (35.889163634, 127.164522428, 18),
        (-35.889163634, 127.164522428, 18),
    ]]
    fillet(fillet_6_edges, radius=FILLET_6_R)

    # 草图27 → 凸台-拉伸9 (add)
    with BuildSketch(Plane(origin=(0, 129.664351405, 0), x_dir=(1, 0, 0), z_dir=(0, 1, 0))):
        with Locations((-27.389163634, 9.433981132)):
            Rectangle(SKETCH_27_W, SKETCH_27_H)
        with Locations((-27.389163634, 24)):
            Rectangle(SKETCH_27_W, SKETCH_27_H)
        with Locations((27.389163634, 24)):
            Rectangle(SKETCH_27_W, SKETCH_27_H)
        with Locations((27.389163634, 9.433981132)):
            Rectangle(SKETCH_27_W, SKETCH_27_H)
        with Locations((-27.389163634, 44)):
            Rectangle(SKETCH_27_W, SKETCH_27_H)
        with Locations((27.389163634, 44)):
            Rectangle(SKETCH_27_W, SKETCH_27_H)
    extrude(amount=-EXTRUDE_9_DEPTH)

    # 圆角7
    fillet_7_edges = [body_2.edges().sort_by_distance(p)[0] for p in [
        (29.889163634, 127.164522428, -6.433981132),
        (-29.889163634, 127.164522428, -6.433981132),
        (-29.889163634, 127.164522405, -12.433981132),
        (-29.889163634, 127.164522405, -41),
        (29.889163634, 127.164522405, -41),
        (-29.889163634, 127.164522405, -27),
        (-29.889163634, 127.164522405, -21),
        (29.889163634, 127.164522405, -21),
        (29.889163634, 127.164522405, -27),
        (29.889163634, 127.164522405, -12.433981132),
    ]]
    fillet(fillet_7_edges, radius=FILLET_7_R)

    # 圆角8
    fillet_8_edges = [body_2.edges().sort_by_distance(p)[0] for p in [
        (-24.889163634, 127.164522405, -6.433981132),
        (-24.889163634, 127.164522405, -12.433981132),
        (-24.889163634, 127.164522405, -41),
        (24.889163634, 127.164522405, -41),
        (-24.889163634, 127.164522405, -21),
        (-24.889163634, 127.164522405, -27),
        (24.889163634, 127.164522405, -21),
        (24.889163634, 127.164522405, -27),
        (24.889163634, 127.164522405, -12.433981132),
        (24.889163634, 127.164522405, -6.433981132),
    ]]
    fillet(fillet_8_edges, radius=FILLET_8_R)

    # 圆角9
    fillet_9_edges = [body_2.edges().sort_by_distance(p)[0] for p in [
        (35.889163634, 127.164522428, -47),
        (-35.889163634, 127.164522428, -47),
        (-24.889163634, 127.164522405, -47),
        (24.889163634, 127.164522405, -47),
    ]]
    fillet(fillet_9_edges, radius=FILLET_9_R)

    # 草图28 → 切除-拉伸19 (cut)
    with BuildSketch(Plane(origin=(0, 129.664351405, 0), x_dir=(1, 0, 0), z_dir=(0, 1, 0))):
        with Locations((-27.445843009, 44)):
            Circle(SKETCH_28_R)
        with Locations((-27.445843009, 24)):
            Circle(SKETCH_28_R)
        with Locations((-27.445843009, 9.433981132)):
            Circle(SKETCH_28_R)
        with Locations((27.445843009, 9.433981132)):
            Circle(SKETCH_28_R)
        with Locations((27.445843009, 24)):
            Circle(SKETCH_28_R)
        with Locations((27.445843009, 44)):
            Circle(SKETCH_28_R)
    extrude(amount=-CUT_EXTRUDE_19_DEPTH, mode=Mode.SUBTRACT)

    # 草图32 → 凸台-拉伸10 (add)
    with BuildSketch(Plane.XY.offset(-6.433981132)):
        Polygon((-35.889163634, 129.664351405), (-56.41665643, 116.841521654), (-58.663321092, 120.438106306), (-35.889163634, 134.664351405), (35.889163634, 134.664351405), (58.663321092, 120.438106306), (56.41665643, 116.841521654), (35.889163634, 129.664351405), align=None)
    extrude(amount=-EXTRUDE_10_DEPTH)

    # 草图33 → 切除-拉伸21 (cut, through all)
    with BuildSketch(Plane.XZ.offset(-124.664693451)):
        with Locations((-27.445843009, -9.433981132)):
            Circle(SKETCH_33_R)
        with Locations((27.445843009, -9.433981132)):
            Circle(SKETCH_33_R)
    extrude(amount=-CUT_EXTRUDE_21_DEPTH, mode=Mode.SUBTRACT)

    # 草图35 → 凸台-拉伸11 (add)
    with BuildSketch(Plane(origin=(0, 134.664351405, 0), x_dir=(1, 0, 0), z_dir=(0, 1, 0))):
        with Locations((-27.445843009, 9.433981132)):
            Rectangle(SKETCH_35_W, SKETCH_35_H)
        with Locations((-27.445843009, 9.433981132)):
            Circle(SKETCH_35_R, mode=Mode.SUBTRACT)
        with Locations((27.445843009, 9.433981132)):
            Rectangle(SKETCH_35_W, SKETCH_35_H)
        with Locations((27.445843009, 9.433981132)):
            Circle(SKETCH_35_R, mode=Mode.SUBTRACT)
    extrude(amount=EXTRUDE_11_DEPTH)

    # 草图36 → 切除-拉伸23 (cut)
    with BuildSketch(Plane.XY.offset(18)):
        Polygon((-35.889163634, 129.664351405), (35.889163634, 129.664351405), (35.889163634, 124.664693451), (35.889163634, 87.058009176), (-35.889163634, 87.058009176), (-35.889163634, 124.664693451), align=None)
    extrude(amount=-CUT_EXTRUDE_23_DEPTH, mode=Mode.SUBTRACT)

    # 草图37 → 切除-拉伸24 (cut)
    with BuildSketch(Plane(origin=(0, 129.664519159, 0), x_dir=(1, 0, 0), z_dir=(0, 1, 0))):
        with Locations((0, -15.5)):
            Rectangle(SKETCH_37_W, SKETCH_37_H)
    extrude(amount=-CUT_EXTRUDE_24_DEPTH, mode=Mode.SUBTRACT)

    # 圆角10
    fillet_10_edges = [body_2.edges().sort_by_distance(p)[0] for p in [
        (35.889163634, 134.664351405, -9.433981132),
        (-35.889163634, 134.664351405, -9.433981132),
    ]]
    fillet(fillet_10_edges, radius=FILLET_10_R)

    # 圆角11
    fillet_11_edges = [body_2.edges().sort_by_distance(p)[0] for p in [
        (58.663321092, 120.438106306, -9.433981132),
        (-58.663321092, 120.438106306, -9.433981132),
        (-56.41665643, 116.841521654, -9.433981132),
        (56.41665643, 116.841521654, -9.433981132),
    ]]
    fillet(fillet_11_edges, radius=FILLET_11_R)


solid = body_2.part
